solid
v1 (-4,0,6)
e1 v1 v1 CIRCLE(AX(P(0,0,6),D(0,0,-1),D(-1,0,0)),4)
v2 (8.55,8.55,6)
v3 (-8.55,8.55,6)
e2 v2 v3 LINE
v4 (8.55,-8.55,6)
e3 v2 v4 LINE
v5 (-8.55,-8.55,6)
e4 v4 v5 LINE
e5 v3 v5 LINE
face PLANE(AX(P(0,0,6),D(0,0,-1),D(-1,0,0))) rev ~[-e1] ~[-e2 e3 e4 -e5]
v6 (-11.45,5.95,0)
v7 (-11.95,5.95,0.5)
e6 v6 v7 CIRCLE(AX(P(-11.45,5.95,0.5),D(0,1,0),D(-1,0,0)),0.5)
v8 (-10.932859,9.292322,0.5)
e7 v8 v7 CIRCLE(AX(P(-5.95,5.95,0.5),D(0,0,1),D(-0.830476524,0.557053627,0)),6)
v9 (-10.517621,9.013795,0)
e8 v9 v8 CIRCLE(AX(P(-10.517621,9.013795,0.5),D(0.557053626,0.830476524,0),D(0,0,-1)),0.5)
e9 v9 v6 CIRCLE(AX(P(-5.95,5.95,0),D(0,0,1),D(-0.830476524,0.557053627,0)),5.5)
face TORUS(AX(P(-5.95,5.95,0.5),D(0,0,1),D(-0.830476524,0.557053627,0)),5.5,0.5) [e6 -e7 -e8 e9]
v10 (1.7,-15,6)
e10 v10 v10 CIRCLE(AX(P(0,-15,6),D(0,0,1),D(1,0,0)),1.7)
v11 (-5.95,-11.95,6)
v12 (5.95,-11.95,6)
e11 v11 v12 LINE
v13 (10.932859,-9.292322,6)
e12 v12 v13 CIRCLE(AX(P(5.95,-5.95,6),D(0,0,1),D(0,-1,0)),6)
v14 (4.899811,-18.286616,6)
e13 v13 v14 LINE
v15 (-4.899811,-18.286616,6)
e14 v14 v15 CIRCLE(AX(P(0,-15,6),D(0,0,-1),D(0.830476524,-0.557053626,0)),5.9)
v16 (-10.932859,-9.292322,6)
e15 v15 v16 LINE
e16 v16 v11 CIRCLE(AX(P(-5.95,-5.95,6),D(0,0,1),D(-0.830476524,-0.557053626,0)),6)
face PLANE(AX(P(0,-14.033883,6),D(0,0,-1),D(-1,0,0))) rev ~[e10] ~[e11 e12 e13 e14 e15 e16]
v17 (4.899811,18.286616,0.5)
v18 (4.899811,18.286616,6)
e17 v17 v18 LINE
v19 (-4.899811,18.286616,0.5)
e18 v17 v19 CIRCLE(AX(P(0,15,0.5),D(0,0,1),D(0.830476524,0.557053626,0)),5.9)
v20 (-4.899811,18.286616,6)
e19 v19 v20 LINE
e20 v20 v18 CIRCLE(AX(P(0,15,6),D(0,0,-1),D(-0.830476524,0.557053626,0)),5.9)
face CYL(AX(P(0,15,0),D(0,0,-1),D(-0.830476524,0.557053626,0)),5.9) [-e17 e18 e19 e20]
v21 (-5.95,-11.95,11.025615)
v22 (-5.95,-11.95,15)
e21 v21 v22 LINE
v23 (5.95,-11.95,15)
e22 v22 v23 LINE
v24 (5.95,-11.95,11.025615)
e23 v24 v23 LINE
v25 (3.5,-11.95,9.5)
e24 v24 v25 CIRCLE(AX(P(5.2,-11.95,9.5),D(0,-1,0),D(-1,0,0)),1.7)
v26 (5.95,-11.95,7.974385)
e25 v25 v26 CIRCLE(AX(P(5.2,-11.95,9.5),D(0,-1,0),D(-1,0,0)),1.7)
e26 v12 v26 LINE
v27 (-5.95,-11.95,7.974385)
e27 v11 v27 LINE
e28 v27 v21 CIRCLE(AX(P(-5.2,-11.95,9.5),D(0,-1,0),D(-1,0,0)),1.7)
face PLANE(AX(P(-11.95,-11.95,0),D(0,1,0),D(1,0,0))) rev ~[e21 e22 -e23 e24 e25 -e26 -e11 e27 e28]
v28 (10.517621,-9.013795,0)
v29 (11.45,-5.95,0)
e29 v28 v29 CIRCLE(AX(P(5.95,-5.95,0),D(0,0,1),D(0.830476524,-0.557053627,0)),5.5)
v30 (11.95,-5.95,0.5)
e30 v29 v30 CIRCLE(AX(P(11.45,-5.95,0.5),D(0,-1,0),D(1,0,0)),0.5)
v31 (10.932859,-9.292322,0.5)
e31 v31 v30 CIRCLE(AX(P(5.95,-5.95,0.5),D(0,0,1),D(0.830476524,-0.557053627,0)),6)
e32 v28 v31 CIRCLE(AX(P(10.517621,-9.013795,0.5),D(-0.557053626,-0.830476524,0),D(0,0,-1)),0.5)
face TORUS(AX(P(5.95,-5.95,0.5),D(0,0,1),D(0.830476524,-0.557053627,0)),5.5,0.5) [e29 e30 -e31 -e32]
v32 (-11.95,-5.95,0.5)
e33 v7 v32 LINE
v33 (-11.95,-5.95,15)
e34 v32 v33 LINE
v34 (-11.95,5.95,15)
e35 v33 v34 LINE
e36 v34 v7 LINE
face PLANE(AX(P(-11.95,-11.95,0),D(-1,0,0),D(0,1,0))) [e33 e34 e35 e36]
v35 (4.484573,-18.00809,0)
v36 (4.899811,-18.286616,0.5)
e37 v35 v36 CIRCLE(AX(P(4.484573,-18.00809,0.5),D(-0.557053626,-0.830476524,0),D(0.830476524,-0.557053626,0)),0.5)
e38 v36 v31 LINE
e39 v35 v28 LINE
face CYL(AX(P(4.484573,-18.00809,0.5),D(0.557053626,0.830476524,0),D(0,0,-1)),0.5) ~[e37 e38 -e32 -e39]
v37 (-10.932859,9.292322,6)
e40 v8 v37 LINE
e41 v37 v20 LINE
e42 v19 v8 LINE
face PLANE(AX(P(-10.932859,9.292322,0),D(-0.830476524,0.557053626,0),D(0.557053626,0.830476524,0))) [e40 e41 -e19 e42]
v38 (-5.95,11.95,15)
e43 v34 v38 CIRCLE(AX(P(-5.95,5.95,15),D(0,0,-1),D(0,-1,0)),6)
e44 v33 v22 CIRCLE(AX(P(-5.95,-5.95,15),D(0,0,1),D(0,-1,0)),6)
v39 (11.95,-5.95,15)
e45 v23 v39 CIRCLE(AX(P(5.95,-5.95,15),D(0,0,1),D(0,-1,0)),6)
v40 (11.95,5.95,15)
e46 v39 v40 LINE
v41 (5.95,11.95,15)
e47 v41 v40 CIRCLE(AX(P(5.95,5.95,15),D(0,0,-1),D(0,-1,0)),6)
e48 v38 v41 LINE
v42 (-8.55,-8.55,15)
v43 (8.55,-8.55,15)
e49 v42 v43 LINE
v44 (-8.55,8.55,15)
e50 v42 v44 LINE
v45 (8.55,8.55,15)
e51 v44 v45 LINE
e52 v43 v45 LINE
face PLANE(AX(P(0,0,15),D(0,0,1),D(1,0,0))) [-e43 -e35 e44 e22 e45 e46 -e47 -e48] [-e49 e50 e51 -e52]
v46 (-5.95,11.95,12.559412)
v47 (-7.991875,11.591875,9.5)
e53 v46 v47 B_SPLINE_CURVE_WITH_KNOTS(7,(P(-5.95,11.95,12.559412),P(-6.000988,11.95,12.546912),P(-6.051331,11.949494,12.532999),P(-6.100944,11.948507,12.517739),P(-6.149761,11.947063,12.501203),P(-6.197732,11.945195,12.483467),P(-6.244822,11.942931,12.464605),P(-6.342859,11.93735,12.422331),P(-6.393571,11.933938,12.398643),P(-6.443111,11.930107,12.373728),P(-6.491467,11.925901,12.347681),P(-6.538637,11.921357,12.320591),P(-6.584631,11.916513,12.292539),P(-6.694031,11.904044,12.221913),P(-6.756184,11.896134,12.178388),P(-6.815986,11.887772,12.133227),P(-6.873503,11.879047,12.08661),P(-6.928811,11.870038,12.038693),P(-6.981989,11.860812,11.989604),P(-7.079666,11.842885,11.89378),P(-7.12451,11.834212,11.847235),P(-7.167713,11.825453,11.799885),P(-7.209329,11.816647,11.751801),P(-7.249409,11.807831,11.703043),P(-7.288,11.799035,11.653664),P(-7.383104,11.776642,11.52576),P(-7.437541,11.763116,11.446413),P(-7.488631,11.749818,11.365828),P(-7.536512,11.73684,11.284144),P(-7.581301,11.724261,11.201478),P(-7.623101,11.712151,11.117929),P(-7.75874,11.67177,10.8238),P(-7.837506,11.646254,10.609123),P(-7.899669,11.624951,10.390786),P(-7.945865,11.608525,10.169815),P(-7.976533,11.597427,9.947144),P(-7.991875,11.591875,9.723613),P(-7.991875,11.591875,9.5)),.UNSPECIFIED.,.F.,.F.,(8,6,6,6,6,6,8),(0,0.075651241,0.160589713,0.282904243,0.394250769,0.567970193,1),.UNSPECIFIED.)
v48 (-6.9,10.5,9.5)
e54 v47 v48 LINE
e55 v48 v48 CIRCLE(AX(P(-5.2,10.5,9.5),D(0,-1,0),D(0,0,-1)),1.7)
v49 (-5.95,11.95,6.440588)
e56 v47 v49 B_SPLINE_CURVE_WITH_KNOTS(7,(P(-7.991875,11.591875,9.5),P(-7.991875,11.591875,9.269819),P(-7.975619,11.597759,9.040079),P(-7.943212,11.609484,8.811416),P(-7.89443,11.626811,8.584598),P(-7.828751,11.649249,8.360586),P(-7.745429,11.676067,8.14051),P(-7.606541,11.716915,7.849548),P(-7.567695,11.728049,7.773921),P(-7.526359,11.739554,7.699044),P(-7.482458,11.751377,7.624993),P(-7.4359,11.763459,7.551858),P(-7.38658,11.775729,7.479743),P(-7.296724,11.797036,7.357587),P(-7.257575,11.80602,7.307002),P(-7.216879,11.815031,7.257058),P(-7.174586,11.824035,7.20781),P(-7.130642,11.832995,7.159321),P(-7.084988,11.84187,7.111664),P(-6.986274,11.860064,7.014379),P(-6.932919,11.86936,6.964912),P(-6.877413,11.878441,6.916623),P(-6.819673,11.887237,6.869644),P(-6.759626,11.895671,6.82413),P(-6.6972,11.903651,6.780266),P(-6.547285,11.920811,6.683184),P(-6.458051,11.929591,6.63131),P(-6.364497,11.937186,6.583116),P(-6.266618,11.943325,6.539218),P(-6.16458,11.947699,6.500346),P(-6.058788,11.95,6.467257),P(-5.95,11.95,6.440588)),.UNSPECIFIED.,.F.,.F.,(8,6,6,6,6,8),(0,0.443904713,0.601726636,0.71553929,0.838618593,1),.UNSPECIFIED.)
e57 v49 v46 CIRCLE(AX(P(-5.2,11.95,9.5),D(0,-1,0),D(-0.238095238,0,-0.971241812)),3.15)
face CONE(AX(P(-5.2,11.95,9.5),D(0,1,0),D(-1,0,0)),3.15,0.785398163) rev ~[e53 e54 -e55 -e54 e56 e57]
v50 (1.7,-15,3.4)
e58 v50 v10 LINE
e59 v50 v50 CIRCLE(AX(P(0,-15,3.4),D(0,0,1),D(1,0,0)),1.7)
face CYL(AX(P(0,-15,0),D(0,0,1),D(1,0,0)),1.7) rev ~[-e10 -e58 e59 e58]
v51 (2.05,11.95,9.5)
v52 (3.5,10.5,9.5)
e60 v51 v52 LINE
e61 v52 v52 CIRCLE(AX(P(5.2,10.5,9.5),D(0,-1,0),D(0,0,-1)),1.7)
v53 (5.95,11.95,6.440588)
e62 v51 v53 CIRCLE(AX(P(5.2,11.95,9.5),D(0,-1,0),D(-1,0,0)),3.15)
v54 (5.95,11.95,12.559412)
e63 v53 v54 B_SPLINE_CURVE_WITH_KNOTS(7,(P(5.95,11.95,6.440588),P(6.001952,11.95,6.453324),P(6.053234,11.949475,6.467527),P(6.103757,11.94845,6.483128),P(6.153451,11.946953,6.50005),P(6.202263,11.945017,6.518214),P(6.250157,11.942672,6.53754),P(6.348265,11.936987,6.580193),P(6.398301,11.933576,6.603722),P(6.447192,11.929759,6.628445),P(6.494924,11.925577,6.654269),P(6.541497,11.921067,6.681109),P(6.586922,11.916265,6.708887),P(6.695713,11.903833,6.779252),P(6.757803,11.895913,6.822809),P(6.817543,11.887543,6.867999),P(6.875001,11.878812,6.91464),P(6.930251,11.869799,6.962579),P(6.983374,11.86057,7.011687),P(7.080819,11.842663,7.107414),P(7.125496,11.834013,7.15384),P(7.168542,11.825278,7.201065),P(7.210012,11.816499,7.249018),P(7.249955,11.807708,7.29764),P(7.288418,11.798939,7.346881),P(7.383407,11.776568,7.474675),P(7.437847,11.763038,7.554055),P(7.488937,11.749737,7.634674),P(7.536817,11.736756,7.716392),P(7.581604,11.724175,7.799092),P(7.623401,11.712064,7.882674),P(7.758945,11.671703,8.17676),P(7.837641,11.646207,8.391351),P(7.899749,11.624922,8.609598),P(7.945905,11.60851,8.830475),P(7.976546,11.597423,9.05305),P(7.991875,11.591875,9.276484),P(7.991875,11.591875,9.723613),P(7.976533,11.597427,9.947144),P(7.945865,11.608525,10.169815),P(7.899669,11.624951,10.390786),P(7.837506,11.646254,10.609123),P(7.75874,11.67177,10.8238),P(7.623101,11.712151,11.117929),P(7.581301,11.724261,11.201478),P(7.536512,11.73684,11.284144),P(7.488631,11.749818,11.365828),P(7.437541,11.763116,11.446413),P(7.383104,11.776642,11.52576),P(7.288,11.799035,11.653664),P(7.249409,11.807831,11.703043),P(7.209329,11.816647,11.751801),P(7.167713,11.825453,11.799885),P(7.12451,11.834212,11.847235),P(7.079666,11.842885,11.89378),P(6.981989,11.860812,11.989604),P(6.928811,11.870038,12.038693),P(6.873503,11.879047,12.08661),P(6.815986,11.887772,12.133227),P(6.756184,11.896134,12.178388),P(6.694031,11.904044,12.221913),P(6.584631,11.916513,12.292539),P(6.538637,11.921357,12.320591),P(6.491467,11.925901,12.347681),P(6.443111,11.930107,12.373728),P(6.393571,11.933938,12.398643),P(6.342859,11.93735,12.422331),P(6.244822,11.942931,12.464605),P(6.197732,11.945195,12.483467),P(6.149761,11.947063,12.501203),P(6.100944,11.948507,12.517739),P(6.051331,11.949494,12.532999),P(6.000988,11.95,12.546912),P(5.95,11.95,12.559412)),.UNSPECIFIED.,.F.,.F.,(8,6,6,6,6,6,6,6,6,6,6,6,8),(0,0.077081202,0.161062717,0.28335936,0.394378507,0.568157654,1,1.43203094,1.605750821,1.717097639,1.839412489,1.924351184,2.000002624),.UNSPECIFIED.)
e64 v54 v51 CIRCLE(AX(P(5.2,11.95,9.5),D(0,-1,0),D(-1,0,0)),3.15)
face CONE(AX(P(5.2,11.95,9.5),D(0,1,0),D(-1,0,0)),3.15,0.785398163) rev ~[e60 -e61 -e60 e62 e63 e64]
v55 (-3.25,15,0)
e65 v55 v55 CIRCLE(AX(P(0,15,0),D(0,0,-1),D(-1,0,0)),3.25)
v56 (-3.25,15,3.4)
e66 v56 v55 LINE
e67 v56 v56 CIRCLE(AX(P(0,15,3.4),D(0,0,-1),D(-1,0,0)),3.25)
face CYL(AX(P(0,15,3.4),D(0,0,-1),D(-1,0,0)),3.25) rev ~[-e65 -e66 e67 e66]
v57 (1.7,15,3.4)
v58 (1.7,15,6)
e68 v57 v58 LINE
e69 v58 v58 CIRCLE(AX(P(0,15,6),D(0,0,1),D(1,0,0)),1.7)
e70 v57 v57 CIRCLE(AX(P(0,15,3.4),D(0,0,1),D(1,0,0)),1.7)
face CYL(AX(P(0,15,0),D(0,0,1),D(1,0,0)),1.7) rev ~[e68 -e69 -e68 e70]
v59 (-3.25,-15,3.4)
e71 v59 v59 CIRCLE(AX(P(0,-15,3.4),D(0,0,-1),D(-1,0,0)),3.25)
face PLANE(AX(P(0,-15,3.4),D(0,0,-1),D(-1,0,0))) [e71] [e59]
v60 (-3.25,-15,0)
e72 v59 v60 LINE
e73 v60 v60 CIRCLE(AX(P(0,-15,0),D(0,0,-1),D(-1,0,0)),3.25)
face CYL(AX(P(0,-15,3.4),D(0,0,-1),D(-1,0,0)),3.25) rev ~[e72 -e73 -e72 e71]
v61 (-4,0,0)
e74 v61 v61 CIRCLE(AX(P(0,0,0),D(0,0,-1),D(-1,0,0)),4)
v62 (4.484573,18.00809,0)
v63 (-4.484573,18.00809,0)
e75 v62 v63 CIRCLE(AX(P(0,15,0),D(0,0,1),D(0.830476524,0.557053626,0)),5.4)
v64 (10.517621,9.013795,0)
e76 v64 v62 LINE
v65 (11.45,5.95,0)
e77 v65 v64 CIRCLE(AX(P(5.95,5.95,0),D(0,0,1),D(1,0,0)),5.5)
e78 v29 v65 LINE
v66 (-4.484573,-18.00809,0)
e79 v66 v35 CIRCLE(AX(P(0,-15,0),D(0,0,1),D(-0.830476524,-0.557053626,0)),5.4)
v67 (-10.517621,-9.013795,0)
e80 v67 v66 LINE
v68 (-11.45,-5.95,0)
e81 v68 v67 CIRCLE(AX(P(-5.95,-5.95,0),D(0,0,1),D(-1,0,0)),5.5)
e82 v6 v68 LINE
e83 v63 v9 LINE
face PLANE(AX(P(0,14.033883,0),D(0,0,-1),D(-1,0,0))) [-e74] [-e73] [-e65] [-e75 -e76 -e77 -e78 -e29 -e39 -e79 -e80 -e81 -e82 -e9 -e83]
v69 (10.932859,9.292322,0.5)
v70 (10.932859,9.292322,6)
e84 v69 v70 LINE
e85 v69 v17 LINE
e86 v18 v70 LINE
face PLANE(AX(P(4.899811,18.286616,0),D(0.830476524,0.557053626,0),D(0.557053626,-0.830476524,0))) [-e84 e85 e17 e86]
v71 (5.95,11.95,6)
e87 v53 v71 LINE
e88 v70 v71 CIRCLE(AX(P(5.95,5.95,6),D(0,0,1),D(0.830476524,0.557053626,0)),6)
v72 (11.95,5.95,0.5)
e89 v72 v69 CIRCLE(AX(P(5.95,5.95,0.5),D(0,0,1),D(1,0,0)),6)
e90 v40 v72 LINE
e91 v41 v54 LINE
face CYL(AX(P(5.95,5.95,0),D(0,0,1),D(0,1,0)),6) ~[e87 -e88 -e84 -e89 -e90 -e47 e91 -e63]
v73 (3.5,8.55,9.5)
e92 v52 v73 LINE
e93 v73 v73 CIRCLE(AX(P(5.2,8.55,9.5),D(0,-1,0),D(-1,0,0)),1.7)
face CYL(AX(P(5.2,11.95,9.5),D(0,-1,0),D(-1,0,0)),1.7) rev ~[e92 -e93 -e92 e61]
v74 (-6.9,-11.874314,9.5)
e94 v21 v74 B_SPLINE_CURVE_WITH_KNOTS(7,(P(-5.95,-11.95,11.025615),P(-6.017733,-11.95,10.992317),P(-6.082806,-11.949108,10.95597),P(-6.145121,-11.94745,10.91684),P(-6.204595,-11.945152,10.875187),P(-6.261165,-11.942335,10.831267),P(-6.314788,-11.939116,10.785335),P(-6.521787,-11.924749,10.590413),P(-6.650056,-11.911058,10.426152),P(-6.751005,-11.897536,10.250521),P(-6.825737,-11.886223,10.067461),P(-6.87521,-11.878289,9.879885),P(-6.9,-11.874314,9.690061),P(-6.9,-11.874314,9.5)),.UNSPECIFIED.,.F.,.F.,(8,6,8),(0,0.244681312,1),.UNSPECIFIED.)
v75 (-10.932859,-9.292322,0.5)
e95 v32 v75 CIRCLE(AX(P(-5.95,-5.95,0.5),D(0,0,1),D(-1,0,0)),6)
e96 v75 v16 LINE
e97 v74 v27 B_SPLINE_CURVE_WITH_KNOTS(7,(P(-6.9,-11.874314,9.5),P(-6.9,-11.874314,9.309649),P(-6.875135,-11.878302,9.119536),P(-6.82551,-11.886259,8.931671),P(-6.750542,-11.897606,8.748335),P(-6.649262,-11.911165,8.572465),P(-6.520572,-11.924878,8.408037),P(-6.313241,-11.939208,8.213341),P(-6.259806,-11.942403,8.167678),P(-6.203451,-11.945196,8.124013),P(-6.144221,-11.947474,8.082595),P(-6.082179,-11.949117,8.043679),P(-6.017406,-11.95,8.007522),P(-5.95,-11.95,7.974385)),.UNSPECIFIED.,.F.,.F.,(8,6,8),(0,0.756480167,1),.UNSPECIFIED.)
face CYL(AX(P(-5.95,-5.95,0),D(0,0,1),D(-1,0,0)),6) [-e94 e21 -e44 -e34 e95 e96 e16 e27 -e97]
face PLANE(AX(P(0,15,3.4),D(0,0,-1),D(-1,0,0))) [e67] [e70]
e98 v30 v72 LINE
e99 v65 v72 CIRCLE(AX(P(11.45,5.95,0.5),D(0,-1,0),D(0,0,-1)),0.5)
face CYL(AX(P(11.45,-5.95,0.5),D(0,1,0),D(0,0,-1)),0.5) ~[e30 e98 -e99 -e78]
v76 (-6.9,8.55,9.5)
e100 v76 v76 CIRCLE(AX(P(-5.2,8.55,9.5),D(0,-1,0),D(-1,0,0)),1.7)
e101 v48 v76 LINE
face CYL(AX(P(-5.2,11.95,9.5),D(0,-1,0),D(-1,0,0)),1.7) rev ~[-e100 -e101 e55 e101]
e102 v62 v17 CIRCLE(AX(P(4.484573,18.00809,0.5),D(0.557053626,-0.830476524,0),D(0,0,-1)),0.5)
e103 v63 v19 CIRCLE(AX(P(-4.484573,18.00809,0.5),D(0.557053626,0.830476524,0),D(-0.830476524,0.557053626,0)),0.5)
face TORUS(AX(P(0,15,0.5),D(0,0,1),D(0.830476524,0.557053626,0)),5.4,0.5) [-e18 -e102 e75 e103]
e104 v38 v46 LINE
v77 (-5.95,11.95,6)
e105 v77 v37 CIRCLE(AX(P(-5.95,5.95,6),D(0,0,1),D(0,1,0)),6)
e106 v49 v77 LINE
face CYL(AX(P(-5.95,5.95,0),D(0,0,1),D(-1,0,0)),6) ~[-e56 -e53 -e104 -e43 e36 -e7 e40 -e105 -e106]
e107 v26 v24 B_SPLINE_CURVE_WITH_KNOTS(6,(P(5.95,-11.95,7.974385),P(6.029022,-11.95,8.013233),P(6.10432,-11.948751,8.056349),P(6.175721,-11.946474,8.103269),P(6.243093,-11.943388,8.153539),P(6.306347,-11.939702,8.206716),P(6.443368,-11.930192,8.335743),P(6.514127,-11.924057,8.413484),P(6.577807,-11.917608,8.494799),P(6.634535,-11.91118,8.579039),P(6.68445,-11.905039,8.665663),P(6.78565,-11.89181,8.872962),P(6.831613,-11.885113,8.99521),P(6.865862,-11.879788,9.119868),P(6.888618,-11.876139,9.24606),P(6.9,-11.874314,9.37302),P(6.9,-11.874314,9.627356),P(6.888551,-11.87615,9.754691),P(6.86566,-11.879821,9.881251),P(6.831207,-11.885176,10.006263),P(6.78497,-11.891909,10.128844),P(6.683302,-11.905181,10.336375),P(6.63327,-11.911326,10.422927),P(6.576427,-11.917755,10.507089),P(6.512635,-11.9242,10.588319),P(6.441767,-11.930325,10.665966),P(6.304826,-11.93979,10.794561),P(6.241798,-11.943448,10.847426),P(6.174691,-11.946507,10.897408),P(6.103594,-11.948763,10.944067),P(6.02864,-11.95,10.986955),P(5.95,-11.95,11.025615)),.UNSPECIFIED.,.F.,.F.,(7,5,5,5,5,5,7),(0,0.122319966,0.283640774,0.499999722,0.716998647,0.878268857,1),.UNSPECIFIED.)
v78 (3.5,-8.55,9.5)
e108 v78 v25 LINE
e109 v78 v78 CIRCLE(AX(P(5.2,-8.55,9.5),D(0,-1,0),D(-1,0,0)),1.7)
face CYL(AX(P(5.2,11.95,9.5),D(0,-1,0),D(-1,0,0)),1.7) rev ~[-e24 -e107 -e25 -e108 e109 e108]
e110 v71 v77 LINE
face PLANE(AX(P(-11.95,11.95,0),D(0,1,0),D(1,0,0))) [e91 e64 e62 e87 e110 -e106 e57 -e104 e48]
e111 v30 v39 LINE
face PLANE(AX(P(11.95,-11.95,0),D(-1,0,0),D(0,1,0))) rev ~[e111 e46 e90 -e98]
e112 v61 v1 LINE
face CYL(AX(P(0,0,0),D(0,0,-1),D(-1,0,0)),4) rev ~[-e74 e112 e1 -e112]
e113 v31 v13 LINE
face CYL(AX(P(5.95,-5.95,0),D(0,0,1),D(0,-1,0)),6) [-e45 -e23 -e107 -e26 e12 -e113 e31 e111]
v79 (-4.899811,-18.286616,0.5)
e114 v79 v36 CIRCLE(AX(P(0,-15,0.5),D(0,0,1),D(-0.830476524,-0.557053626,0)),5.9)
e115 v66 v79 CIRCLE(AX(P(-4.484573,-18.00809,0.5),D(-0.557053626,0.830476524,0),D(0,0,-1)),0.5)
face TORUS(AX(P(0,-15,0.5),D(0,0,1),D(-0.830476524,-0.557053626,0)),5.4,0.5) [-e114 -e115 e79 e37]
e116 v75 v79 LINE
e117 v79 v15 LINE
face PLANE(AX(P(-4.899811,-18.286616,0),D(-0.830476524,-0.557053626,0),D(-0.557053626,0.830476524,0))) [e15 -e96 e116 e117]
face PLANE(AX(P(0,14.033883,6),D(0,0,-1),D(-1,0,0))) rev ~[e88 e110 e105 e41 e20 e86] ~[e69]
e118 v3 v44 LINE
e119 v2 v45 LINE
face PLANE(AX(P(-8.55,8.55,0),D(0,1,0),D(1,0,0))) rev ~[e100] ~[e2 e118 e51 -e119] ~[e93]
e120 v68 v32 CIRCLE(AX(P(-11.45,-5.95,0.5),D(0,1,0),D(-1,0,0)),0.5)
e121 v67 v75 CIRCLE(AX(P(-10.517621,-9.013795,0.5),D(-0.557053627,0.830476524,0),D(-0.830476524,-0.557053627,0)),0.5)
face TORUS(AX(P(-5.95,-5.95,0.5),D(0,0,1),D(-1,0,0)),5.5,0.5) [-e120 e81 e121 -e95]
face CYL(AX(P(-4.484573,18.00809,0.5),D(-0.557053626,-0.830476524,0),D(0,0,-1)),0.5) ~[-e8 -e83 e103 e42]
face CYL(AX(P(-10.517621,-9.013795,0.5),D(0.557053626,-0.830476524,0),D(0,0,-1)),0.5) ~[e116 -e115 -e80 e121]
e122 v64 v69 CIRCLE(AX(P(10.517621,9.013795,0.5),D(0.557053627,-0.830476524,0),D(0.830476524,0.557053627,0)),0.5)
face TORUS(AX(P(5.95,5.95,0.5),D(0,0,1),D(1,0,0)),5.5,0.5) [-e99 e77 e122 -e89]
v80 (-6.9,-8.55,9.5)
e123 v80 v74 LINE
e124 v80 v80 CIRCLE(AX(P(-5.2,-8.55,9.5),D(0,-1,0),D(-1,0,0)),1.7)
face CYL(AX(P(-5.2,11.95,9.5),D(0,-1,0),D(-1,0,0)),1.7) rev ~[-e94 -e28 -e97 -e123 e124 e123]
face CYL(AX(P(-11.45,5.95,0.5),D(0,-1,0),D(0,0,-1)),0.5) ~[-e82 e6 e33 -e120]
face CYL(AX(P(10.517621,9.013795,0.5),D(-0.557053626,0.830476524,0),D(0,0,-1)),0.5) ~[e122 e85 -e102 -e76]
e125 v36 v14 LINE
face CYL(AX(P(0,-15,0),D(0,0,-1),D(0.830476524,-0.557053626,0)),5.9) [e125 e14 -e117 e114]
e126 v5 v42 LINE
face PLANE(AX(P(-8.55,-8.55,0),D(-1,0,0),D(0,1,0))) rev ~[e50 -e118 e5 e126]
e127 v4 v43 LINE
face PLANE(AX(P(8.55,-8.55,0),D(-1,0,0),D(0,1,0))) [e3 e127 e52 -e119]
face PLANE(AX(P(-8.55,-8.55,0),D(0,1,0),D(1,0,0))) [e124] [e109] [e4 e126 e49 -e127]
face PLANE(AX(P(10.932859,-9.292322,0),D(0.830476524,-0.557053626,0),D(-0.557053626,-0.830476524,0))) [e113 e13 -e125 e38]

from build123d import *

# Parameters (mm, degrees)
SKETCH1_W                                           = 23.9
SKETCH1_H                                           = 23.9
SKETCH1_W_2                                         = 17.1
SKETCH1_H_2                                         = 17.1
BOSS_EXTRUDE1_DEPTH                                 = 15
FILLET1_R                                           = 6
SKETCH3_R                                           = 4
BOSS_EXTRUDE2_DEPTH                                 = 6
BOSS_EXTRUDE3_DEPTH                                 = 6
CBORE_FOR_M3_HEX_SOCKET_HEAD_CAP_SCREW1_D           = 3.4
CBORE_FOR_M3_HEX_SOCKET_HEAD_CAP_SCREW1_CBORE_D     = 6.5
CBORE_FOR_M3_HEX_SOCKET_HEAD_CAP_SCREW1_CBORE_DEPTH = 3.4
FILLET2_R                                           = 0.5
CSK_FOR_M3_COUNTERSUNK_FLAT_HEAD_SCREW1_D           = 3.4
CSK_FOR_M3_COUNTERSUNK_FLAT_HEAD_SCREW1_CSINK_D     = 6.3
CSK_FOR_M3_COUNTERSUNK_FLAT_HEAD_SCREW1_CSINK_ANGLE = 90


with BuildPart() as part:
    # Sketch1 → Boss-Extrude1 (new body)
    with BuildSketch(Plane.XY):
        Rectangle(SKETCH1_W, SKETCH1_H)
        Rectangle(SKETCH1_W_2, SKETCH1_H_2, mode=Mode.SUBTRACT)
    extrude(amount=BOSS_EXTRUDE1_DEPTH)

    # Fillet1
    fillet1_edges = [part.edges().sort_by_distance(p)[0] for p in [
        (11.95, -11.95, 7.5),
        (-11.95, -11.95, 7.5),
        (-11.95, 11.95, 7.5),
        (11.95, 11.95, 7.5),
    ]]
    fillet(fillet1_edges, radius=FILLET1_R)

    # Sketch3 → Boss-Extrude2 (add)
    with BuildSketch(Plane(origin=(0, 0, 0), x_dir=(-1, 0, 0), z_dir=(0, 0, -1))):
        with BuildLine():
            Line((-5.95, -11.95), (5.95, -11.95))
            ThreePointArc((5.95, -11.95), (10.192640687, -10.192640687), (11.95, -5.95))
            Line((11.95, -5.95), (11.95, 5.95))
            ThreePointArc((11.95, 5.95), (10.192640687, 10.192640687), (5.95, 11.95))
            Line((5.95, 11.95), (-5.95, 11.95))
            ThreePointArc((-5.95, 11.95), (-10.192640687, 10.192640687), (-11.95, 5.95))
            Line((-11.95, 5.95), (-11.95, -5.95))
            ThreePointArc((-11.95, -5.95), (-10.192640687, -10.192640687), (-5.95, -11.95))
        make_face()
        Circle(SKETCH3_R, mode=Mode.SUBTRACT)
    extrude(amount=-BOSS_EXTRUDE2_DEPTH)

    # Sketch2 → Boss-Extrude3 (add)
    with BuildSketch(Plane(origin=(0, 0, 0), x_dir=(-1, 0, 0), z_dir=(0, 0, -1))):
        with BuildLine():
            Line((-5.95, 11.95), (5.95, 11.95))
            ThreePointArc((5.95, 11.95), (8.773656269, 11.244049988), (10.932859145, 9.292321759))
            Line((10.932859145, 9.292321759), (4.899811493, 18.286616396))
            ThreePointArc((4.899811493, 18.286616396), (0, 20.9), (-4.899811493, 18.286616396))
            Line((-4.899811493, 18.286616396), (-10.932859145, 9.292321759))
            ThreePointArc((-10.932859145, 9.292321759), (-8.773656269, 11.244049988), (-5.95, 11.95))
        make_face()
        with BuildLine():
            Line((4.899811493, -18.286616396), (10.932859145, -9.292321759))
            ThreePointArc((10.932859145, -9.292321759), (8.773656269, -11.244049988), (5.95, -11.95))
            Line((5.95, -11.95), (-5.95, -11.95))
            ThreePointArc((-5.95, -11.95), (-8.773656269, -11.244049988), (-10.932859145, -9.292321759))
            Line((-10.932859145, -9.292321759), (-4.899811493, -18.286616396))
            ThreePointArc((-4.899811493, -18.286616396), (0, -20.9), (4.899811493, -18.286616396))
        make_face()
    extrude(amount=-BOSS_EXTRUDE3_DEPTH)

    # CBORE for M3 Hex Socket Head Cap Screw1 (through all)
    with Locations(Plane(origin=(0, 0, 0), x_dir=(-1, 0, 0), z_dir=(0, 0, -1))):
        with Locations((0, 15), (0, -15)):
            CounterBoreHole(CBORE_FOR_M3_HEX_SOCKET_HEAD_CAP_SCREW1_D / 2, CBORE_FOR_M3_HEX_SOCKET_HEAD_CAP_SCREW1_CBORE_D / 2, CBORE_FOR_M3_HEX_SOCKET_HEAD_CAP_SCREW1_CBORE_DEPTH)

    # Fillet2
    fillet2_edges = [part.edges().sort_by_distance(p)[0] for p in [
        (-11.690085142, -7.696832151, 0),
        (0, -20.9, 0),
        (7.916335319, -13.789469077, 0),
        (-7.916335319, -13.789469077, 0),
        (11.95, 0, 0),
        (-11.95, 0, 0),
        (-11.690085142, 7.696832151, 0),
        (11.690085142, -7.696832151, 0),
        (11.690085142, 7.696832151, 0),
        (-7.916335319, 13.789469077, 0),
        (0, 20.9, 0),
        (7.916335319, 13.789469077, 0),
    ]]
    fillet(fillet2_edges, radius=FILLET2_R)

    # CSK for M3 Countersunk Flat Head Screw1 (through all)
    with Locations(Plane(origin=(0, 11.95, 0), x_dir=(1, 0, 0), z_dir=(0, 1, 0))):
        with Locations((-5.2, -9.5), (5.2, -9.5)):
            CounterSinkHole(CSK_FOR_M3_COUNTERSUNK_FLAT_HEAD_SCREW1_D / 2, CSK_FOR_M3_COUNTERSUNK_FLAT_HEAD_SCREW1_CSINK_D / 2, counter_sink_angle=CSK_FOR_M3_COUNTERSUNK_FLAT_HEAD_SCREW1_CSINK_ANGLE)


solid = part.part
